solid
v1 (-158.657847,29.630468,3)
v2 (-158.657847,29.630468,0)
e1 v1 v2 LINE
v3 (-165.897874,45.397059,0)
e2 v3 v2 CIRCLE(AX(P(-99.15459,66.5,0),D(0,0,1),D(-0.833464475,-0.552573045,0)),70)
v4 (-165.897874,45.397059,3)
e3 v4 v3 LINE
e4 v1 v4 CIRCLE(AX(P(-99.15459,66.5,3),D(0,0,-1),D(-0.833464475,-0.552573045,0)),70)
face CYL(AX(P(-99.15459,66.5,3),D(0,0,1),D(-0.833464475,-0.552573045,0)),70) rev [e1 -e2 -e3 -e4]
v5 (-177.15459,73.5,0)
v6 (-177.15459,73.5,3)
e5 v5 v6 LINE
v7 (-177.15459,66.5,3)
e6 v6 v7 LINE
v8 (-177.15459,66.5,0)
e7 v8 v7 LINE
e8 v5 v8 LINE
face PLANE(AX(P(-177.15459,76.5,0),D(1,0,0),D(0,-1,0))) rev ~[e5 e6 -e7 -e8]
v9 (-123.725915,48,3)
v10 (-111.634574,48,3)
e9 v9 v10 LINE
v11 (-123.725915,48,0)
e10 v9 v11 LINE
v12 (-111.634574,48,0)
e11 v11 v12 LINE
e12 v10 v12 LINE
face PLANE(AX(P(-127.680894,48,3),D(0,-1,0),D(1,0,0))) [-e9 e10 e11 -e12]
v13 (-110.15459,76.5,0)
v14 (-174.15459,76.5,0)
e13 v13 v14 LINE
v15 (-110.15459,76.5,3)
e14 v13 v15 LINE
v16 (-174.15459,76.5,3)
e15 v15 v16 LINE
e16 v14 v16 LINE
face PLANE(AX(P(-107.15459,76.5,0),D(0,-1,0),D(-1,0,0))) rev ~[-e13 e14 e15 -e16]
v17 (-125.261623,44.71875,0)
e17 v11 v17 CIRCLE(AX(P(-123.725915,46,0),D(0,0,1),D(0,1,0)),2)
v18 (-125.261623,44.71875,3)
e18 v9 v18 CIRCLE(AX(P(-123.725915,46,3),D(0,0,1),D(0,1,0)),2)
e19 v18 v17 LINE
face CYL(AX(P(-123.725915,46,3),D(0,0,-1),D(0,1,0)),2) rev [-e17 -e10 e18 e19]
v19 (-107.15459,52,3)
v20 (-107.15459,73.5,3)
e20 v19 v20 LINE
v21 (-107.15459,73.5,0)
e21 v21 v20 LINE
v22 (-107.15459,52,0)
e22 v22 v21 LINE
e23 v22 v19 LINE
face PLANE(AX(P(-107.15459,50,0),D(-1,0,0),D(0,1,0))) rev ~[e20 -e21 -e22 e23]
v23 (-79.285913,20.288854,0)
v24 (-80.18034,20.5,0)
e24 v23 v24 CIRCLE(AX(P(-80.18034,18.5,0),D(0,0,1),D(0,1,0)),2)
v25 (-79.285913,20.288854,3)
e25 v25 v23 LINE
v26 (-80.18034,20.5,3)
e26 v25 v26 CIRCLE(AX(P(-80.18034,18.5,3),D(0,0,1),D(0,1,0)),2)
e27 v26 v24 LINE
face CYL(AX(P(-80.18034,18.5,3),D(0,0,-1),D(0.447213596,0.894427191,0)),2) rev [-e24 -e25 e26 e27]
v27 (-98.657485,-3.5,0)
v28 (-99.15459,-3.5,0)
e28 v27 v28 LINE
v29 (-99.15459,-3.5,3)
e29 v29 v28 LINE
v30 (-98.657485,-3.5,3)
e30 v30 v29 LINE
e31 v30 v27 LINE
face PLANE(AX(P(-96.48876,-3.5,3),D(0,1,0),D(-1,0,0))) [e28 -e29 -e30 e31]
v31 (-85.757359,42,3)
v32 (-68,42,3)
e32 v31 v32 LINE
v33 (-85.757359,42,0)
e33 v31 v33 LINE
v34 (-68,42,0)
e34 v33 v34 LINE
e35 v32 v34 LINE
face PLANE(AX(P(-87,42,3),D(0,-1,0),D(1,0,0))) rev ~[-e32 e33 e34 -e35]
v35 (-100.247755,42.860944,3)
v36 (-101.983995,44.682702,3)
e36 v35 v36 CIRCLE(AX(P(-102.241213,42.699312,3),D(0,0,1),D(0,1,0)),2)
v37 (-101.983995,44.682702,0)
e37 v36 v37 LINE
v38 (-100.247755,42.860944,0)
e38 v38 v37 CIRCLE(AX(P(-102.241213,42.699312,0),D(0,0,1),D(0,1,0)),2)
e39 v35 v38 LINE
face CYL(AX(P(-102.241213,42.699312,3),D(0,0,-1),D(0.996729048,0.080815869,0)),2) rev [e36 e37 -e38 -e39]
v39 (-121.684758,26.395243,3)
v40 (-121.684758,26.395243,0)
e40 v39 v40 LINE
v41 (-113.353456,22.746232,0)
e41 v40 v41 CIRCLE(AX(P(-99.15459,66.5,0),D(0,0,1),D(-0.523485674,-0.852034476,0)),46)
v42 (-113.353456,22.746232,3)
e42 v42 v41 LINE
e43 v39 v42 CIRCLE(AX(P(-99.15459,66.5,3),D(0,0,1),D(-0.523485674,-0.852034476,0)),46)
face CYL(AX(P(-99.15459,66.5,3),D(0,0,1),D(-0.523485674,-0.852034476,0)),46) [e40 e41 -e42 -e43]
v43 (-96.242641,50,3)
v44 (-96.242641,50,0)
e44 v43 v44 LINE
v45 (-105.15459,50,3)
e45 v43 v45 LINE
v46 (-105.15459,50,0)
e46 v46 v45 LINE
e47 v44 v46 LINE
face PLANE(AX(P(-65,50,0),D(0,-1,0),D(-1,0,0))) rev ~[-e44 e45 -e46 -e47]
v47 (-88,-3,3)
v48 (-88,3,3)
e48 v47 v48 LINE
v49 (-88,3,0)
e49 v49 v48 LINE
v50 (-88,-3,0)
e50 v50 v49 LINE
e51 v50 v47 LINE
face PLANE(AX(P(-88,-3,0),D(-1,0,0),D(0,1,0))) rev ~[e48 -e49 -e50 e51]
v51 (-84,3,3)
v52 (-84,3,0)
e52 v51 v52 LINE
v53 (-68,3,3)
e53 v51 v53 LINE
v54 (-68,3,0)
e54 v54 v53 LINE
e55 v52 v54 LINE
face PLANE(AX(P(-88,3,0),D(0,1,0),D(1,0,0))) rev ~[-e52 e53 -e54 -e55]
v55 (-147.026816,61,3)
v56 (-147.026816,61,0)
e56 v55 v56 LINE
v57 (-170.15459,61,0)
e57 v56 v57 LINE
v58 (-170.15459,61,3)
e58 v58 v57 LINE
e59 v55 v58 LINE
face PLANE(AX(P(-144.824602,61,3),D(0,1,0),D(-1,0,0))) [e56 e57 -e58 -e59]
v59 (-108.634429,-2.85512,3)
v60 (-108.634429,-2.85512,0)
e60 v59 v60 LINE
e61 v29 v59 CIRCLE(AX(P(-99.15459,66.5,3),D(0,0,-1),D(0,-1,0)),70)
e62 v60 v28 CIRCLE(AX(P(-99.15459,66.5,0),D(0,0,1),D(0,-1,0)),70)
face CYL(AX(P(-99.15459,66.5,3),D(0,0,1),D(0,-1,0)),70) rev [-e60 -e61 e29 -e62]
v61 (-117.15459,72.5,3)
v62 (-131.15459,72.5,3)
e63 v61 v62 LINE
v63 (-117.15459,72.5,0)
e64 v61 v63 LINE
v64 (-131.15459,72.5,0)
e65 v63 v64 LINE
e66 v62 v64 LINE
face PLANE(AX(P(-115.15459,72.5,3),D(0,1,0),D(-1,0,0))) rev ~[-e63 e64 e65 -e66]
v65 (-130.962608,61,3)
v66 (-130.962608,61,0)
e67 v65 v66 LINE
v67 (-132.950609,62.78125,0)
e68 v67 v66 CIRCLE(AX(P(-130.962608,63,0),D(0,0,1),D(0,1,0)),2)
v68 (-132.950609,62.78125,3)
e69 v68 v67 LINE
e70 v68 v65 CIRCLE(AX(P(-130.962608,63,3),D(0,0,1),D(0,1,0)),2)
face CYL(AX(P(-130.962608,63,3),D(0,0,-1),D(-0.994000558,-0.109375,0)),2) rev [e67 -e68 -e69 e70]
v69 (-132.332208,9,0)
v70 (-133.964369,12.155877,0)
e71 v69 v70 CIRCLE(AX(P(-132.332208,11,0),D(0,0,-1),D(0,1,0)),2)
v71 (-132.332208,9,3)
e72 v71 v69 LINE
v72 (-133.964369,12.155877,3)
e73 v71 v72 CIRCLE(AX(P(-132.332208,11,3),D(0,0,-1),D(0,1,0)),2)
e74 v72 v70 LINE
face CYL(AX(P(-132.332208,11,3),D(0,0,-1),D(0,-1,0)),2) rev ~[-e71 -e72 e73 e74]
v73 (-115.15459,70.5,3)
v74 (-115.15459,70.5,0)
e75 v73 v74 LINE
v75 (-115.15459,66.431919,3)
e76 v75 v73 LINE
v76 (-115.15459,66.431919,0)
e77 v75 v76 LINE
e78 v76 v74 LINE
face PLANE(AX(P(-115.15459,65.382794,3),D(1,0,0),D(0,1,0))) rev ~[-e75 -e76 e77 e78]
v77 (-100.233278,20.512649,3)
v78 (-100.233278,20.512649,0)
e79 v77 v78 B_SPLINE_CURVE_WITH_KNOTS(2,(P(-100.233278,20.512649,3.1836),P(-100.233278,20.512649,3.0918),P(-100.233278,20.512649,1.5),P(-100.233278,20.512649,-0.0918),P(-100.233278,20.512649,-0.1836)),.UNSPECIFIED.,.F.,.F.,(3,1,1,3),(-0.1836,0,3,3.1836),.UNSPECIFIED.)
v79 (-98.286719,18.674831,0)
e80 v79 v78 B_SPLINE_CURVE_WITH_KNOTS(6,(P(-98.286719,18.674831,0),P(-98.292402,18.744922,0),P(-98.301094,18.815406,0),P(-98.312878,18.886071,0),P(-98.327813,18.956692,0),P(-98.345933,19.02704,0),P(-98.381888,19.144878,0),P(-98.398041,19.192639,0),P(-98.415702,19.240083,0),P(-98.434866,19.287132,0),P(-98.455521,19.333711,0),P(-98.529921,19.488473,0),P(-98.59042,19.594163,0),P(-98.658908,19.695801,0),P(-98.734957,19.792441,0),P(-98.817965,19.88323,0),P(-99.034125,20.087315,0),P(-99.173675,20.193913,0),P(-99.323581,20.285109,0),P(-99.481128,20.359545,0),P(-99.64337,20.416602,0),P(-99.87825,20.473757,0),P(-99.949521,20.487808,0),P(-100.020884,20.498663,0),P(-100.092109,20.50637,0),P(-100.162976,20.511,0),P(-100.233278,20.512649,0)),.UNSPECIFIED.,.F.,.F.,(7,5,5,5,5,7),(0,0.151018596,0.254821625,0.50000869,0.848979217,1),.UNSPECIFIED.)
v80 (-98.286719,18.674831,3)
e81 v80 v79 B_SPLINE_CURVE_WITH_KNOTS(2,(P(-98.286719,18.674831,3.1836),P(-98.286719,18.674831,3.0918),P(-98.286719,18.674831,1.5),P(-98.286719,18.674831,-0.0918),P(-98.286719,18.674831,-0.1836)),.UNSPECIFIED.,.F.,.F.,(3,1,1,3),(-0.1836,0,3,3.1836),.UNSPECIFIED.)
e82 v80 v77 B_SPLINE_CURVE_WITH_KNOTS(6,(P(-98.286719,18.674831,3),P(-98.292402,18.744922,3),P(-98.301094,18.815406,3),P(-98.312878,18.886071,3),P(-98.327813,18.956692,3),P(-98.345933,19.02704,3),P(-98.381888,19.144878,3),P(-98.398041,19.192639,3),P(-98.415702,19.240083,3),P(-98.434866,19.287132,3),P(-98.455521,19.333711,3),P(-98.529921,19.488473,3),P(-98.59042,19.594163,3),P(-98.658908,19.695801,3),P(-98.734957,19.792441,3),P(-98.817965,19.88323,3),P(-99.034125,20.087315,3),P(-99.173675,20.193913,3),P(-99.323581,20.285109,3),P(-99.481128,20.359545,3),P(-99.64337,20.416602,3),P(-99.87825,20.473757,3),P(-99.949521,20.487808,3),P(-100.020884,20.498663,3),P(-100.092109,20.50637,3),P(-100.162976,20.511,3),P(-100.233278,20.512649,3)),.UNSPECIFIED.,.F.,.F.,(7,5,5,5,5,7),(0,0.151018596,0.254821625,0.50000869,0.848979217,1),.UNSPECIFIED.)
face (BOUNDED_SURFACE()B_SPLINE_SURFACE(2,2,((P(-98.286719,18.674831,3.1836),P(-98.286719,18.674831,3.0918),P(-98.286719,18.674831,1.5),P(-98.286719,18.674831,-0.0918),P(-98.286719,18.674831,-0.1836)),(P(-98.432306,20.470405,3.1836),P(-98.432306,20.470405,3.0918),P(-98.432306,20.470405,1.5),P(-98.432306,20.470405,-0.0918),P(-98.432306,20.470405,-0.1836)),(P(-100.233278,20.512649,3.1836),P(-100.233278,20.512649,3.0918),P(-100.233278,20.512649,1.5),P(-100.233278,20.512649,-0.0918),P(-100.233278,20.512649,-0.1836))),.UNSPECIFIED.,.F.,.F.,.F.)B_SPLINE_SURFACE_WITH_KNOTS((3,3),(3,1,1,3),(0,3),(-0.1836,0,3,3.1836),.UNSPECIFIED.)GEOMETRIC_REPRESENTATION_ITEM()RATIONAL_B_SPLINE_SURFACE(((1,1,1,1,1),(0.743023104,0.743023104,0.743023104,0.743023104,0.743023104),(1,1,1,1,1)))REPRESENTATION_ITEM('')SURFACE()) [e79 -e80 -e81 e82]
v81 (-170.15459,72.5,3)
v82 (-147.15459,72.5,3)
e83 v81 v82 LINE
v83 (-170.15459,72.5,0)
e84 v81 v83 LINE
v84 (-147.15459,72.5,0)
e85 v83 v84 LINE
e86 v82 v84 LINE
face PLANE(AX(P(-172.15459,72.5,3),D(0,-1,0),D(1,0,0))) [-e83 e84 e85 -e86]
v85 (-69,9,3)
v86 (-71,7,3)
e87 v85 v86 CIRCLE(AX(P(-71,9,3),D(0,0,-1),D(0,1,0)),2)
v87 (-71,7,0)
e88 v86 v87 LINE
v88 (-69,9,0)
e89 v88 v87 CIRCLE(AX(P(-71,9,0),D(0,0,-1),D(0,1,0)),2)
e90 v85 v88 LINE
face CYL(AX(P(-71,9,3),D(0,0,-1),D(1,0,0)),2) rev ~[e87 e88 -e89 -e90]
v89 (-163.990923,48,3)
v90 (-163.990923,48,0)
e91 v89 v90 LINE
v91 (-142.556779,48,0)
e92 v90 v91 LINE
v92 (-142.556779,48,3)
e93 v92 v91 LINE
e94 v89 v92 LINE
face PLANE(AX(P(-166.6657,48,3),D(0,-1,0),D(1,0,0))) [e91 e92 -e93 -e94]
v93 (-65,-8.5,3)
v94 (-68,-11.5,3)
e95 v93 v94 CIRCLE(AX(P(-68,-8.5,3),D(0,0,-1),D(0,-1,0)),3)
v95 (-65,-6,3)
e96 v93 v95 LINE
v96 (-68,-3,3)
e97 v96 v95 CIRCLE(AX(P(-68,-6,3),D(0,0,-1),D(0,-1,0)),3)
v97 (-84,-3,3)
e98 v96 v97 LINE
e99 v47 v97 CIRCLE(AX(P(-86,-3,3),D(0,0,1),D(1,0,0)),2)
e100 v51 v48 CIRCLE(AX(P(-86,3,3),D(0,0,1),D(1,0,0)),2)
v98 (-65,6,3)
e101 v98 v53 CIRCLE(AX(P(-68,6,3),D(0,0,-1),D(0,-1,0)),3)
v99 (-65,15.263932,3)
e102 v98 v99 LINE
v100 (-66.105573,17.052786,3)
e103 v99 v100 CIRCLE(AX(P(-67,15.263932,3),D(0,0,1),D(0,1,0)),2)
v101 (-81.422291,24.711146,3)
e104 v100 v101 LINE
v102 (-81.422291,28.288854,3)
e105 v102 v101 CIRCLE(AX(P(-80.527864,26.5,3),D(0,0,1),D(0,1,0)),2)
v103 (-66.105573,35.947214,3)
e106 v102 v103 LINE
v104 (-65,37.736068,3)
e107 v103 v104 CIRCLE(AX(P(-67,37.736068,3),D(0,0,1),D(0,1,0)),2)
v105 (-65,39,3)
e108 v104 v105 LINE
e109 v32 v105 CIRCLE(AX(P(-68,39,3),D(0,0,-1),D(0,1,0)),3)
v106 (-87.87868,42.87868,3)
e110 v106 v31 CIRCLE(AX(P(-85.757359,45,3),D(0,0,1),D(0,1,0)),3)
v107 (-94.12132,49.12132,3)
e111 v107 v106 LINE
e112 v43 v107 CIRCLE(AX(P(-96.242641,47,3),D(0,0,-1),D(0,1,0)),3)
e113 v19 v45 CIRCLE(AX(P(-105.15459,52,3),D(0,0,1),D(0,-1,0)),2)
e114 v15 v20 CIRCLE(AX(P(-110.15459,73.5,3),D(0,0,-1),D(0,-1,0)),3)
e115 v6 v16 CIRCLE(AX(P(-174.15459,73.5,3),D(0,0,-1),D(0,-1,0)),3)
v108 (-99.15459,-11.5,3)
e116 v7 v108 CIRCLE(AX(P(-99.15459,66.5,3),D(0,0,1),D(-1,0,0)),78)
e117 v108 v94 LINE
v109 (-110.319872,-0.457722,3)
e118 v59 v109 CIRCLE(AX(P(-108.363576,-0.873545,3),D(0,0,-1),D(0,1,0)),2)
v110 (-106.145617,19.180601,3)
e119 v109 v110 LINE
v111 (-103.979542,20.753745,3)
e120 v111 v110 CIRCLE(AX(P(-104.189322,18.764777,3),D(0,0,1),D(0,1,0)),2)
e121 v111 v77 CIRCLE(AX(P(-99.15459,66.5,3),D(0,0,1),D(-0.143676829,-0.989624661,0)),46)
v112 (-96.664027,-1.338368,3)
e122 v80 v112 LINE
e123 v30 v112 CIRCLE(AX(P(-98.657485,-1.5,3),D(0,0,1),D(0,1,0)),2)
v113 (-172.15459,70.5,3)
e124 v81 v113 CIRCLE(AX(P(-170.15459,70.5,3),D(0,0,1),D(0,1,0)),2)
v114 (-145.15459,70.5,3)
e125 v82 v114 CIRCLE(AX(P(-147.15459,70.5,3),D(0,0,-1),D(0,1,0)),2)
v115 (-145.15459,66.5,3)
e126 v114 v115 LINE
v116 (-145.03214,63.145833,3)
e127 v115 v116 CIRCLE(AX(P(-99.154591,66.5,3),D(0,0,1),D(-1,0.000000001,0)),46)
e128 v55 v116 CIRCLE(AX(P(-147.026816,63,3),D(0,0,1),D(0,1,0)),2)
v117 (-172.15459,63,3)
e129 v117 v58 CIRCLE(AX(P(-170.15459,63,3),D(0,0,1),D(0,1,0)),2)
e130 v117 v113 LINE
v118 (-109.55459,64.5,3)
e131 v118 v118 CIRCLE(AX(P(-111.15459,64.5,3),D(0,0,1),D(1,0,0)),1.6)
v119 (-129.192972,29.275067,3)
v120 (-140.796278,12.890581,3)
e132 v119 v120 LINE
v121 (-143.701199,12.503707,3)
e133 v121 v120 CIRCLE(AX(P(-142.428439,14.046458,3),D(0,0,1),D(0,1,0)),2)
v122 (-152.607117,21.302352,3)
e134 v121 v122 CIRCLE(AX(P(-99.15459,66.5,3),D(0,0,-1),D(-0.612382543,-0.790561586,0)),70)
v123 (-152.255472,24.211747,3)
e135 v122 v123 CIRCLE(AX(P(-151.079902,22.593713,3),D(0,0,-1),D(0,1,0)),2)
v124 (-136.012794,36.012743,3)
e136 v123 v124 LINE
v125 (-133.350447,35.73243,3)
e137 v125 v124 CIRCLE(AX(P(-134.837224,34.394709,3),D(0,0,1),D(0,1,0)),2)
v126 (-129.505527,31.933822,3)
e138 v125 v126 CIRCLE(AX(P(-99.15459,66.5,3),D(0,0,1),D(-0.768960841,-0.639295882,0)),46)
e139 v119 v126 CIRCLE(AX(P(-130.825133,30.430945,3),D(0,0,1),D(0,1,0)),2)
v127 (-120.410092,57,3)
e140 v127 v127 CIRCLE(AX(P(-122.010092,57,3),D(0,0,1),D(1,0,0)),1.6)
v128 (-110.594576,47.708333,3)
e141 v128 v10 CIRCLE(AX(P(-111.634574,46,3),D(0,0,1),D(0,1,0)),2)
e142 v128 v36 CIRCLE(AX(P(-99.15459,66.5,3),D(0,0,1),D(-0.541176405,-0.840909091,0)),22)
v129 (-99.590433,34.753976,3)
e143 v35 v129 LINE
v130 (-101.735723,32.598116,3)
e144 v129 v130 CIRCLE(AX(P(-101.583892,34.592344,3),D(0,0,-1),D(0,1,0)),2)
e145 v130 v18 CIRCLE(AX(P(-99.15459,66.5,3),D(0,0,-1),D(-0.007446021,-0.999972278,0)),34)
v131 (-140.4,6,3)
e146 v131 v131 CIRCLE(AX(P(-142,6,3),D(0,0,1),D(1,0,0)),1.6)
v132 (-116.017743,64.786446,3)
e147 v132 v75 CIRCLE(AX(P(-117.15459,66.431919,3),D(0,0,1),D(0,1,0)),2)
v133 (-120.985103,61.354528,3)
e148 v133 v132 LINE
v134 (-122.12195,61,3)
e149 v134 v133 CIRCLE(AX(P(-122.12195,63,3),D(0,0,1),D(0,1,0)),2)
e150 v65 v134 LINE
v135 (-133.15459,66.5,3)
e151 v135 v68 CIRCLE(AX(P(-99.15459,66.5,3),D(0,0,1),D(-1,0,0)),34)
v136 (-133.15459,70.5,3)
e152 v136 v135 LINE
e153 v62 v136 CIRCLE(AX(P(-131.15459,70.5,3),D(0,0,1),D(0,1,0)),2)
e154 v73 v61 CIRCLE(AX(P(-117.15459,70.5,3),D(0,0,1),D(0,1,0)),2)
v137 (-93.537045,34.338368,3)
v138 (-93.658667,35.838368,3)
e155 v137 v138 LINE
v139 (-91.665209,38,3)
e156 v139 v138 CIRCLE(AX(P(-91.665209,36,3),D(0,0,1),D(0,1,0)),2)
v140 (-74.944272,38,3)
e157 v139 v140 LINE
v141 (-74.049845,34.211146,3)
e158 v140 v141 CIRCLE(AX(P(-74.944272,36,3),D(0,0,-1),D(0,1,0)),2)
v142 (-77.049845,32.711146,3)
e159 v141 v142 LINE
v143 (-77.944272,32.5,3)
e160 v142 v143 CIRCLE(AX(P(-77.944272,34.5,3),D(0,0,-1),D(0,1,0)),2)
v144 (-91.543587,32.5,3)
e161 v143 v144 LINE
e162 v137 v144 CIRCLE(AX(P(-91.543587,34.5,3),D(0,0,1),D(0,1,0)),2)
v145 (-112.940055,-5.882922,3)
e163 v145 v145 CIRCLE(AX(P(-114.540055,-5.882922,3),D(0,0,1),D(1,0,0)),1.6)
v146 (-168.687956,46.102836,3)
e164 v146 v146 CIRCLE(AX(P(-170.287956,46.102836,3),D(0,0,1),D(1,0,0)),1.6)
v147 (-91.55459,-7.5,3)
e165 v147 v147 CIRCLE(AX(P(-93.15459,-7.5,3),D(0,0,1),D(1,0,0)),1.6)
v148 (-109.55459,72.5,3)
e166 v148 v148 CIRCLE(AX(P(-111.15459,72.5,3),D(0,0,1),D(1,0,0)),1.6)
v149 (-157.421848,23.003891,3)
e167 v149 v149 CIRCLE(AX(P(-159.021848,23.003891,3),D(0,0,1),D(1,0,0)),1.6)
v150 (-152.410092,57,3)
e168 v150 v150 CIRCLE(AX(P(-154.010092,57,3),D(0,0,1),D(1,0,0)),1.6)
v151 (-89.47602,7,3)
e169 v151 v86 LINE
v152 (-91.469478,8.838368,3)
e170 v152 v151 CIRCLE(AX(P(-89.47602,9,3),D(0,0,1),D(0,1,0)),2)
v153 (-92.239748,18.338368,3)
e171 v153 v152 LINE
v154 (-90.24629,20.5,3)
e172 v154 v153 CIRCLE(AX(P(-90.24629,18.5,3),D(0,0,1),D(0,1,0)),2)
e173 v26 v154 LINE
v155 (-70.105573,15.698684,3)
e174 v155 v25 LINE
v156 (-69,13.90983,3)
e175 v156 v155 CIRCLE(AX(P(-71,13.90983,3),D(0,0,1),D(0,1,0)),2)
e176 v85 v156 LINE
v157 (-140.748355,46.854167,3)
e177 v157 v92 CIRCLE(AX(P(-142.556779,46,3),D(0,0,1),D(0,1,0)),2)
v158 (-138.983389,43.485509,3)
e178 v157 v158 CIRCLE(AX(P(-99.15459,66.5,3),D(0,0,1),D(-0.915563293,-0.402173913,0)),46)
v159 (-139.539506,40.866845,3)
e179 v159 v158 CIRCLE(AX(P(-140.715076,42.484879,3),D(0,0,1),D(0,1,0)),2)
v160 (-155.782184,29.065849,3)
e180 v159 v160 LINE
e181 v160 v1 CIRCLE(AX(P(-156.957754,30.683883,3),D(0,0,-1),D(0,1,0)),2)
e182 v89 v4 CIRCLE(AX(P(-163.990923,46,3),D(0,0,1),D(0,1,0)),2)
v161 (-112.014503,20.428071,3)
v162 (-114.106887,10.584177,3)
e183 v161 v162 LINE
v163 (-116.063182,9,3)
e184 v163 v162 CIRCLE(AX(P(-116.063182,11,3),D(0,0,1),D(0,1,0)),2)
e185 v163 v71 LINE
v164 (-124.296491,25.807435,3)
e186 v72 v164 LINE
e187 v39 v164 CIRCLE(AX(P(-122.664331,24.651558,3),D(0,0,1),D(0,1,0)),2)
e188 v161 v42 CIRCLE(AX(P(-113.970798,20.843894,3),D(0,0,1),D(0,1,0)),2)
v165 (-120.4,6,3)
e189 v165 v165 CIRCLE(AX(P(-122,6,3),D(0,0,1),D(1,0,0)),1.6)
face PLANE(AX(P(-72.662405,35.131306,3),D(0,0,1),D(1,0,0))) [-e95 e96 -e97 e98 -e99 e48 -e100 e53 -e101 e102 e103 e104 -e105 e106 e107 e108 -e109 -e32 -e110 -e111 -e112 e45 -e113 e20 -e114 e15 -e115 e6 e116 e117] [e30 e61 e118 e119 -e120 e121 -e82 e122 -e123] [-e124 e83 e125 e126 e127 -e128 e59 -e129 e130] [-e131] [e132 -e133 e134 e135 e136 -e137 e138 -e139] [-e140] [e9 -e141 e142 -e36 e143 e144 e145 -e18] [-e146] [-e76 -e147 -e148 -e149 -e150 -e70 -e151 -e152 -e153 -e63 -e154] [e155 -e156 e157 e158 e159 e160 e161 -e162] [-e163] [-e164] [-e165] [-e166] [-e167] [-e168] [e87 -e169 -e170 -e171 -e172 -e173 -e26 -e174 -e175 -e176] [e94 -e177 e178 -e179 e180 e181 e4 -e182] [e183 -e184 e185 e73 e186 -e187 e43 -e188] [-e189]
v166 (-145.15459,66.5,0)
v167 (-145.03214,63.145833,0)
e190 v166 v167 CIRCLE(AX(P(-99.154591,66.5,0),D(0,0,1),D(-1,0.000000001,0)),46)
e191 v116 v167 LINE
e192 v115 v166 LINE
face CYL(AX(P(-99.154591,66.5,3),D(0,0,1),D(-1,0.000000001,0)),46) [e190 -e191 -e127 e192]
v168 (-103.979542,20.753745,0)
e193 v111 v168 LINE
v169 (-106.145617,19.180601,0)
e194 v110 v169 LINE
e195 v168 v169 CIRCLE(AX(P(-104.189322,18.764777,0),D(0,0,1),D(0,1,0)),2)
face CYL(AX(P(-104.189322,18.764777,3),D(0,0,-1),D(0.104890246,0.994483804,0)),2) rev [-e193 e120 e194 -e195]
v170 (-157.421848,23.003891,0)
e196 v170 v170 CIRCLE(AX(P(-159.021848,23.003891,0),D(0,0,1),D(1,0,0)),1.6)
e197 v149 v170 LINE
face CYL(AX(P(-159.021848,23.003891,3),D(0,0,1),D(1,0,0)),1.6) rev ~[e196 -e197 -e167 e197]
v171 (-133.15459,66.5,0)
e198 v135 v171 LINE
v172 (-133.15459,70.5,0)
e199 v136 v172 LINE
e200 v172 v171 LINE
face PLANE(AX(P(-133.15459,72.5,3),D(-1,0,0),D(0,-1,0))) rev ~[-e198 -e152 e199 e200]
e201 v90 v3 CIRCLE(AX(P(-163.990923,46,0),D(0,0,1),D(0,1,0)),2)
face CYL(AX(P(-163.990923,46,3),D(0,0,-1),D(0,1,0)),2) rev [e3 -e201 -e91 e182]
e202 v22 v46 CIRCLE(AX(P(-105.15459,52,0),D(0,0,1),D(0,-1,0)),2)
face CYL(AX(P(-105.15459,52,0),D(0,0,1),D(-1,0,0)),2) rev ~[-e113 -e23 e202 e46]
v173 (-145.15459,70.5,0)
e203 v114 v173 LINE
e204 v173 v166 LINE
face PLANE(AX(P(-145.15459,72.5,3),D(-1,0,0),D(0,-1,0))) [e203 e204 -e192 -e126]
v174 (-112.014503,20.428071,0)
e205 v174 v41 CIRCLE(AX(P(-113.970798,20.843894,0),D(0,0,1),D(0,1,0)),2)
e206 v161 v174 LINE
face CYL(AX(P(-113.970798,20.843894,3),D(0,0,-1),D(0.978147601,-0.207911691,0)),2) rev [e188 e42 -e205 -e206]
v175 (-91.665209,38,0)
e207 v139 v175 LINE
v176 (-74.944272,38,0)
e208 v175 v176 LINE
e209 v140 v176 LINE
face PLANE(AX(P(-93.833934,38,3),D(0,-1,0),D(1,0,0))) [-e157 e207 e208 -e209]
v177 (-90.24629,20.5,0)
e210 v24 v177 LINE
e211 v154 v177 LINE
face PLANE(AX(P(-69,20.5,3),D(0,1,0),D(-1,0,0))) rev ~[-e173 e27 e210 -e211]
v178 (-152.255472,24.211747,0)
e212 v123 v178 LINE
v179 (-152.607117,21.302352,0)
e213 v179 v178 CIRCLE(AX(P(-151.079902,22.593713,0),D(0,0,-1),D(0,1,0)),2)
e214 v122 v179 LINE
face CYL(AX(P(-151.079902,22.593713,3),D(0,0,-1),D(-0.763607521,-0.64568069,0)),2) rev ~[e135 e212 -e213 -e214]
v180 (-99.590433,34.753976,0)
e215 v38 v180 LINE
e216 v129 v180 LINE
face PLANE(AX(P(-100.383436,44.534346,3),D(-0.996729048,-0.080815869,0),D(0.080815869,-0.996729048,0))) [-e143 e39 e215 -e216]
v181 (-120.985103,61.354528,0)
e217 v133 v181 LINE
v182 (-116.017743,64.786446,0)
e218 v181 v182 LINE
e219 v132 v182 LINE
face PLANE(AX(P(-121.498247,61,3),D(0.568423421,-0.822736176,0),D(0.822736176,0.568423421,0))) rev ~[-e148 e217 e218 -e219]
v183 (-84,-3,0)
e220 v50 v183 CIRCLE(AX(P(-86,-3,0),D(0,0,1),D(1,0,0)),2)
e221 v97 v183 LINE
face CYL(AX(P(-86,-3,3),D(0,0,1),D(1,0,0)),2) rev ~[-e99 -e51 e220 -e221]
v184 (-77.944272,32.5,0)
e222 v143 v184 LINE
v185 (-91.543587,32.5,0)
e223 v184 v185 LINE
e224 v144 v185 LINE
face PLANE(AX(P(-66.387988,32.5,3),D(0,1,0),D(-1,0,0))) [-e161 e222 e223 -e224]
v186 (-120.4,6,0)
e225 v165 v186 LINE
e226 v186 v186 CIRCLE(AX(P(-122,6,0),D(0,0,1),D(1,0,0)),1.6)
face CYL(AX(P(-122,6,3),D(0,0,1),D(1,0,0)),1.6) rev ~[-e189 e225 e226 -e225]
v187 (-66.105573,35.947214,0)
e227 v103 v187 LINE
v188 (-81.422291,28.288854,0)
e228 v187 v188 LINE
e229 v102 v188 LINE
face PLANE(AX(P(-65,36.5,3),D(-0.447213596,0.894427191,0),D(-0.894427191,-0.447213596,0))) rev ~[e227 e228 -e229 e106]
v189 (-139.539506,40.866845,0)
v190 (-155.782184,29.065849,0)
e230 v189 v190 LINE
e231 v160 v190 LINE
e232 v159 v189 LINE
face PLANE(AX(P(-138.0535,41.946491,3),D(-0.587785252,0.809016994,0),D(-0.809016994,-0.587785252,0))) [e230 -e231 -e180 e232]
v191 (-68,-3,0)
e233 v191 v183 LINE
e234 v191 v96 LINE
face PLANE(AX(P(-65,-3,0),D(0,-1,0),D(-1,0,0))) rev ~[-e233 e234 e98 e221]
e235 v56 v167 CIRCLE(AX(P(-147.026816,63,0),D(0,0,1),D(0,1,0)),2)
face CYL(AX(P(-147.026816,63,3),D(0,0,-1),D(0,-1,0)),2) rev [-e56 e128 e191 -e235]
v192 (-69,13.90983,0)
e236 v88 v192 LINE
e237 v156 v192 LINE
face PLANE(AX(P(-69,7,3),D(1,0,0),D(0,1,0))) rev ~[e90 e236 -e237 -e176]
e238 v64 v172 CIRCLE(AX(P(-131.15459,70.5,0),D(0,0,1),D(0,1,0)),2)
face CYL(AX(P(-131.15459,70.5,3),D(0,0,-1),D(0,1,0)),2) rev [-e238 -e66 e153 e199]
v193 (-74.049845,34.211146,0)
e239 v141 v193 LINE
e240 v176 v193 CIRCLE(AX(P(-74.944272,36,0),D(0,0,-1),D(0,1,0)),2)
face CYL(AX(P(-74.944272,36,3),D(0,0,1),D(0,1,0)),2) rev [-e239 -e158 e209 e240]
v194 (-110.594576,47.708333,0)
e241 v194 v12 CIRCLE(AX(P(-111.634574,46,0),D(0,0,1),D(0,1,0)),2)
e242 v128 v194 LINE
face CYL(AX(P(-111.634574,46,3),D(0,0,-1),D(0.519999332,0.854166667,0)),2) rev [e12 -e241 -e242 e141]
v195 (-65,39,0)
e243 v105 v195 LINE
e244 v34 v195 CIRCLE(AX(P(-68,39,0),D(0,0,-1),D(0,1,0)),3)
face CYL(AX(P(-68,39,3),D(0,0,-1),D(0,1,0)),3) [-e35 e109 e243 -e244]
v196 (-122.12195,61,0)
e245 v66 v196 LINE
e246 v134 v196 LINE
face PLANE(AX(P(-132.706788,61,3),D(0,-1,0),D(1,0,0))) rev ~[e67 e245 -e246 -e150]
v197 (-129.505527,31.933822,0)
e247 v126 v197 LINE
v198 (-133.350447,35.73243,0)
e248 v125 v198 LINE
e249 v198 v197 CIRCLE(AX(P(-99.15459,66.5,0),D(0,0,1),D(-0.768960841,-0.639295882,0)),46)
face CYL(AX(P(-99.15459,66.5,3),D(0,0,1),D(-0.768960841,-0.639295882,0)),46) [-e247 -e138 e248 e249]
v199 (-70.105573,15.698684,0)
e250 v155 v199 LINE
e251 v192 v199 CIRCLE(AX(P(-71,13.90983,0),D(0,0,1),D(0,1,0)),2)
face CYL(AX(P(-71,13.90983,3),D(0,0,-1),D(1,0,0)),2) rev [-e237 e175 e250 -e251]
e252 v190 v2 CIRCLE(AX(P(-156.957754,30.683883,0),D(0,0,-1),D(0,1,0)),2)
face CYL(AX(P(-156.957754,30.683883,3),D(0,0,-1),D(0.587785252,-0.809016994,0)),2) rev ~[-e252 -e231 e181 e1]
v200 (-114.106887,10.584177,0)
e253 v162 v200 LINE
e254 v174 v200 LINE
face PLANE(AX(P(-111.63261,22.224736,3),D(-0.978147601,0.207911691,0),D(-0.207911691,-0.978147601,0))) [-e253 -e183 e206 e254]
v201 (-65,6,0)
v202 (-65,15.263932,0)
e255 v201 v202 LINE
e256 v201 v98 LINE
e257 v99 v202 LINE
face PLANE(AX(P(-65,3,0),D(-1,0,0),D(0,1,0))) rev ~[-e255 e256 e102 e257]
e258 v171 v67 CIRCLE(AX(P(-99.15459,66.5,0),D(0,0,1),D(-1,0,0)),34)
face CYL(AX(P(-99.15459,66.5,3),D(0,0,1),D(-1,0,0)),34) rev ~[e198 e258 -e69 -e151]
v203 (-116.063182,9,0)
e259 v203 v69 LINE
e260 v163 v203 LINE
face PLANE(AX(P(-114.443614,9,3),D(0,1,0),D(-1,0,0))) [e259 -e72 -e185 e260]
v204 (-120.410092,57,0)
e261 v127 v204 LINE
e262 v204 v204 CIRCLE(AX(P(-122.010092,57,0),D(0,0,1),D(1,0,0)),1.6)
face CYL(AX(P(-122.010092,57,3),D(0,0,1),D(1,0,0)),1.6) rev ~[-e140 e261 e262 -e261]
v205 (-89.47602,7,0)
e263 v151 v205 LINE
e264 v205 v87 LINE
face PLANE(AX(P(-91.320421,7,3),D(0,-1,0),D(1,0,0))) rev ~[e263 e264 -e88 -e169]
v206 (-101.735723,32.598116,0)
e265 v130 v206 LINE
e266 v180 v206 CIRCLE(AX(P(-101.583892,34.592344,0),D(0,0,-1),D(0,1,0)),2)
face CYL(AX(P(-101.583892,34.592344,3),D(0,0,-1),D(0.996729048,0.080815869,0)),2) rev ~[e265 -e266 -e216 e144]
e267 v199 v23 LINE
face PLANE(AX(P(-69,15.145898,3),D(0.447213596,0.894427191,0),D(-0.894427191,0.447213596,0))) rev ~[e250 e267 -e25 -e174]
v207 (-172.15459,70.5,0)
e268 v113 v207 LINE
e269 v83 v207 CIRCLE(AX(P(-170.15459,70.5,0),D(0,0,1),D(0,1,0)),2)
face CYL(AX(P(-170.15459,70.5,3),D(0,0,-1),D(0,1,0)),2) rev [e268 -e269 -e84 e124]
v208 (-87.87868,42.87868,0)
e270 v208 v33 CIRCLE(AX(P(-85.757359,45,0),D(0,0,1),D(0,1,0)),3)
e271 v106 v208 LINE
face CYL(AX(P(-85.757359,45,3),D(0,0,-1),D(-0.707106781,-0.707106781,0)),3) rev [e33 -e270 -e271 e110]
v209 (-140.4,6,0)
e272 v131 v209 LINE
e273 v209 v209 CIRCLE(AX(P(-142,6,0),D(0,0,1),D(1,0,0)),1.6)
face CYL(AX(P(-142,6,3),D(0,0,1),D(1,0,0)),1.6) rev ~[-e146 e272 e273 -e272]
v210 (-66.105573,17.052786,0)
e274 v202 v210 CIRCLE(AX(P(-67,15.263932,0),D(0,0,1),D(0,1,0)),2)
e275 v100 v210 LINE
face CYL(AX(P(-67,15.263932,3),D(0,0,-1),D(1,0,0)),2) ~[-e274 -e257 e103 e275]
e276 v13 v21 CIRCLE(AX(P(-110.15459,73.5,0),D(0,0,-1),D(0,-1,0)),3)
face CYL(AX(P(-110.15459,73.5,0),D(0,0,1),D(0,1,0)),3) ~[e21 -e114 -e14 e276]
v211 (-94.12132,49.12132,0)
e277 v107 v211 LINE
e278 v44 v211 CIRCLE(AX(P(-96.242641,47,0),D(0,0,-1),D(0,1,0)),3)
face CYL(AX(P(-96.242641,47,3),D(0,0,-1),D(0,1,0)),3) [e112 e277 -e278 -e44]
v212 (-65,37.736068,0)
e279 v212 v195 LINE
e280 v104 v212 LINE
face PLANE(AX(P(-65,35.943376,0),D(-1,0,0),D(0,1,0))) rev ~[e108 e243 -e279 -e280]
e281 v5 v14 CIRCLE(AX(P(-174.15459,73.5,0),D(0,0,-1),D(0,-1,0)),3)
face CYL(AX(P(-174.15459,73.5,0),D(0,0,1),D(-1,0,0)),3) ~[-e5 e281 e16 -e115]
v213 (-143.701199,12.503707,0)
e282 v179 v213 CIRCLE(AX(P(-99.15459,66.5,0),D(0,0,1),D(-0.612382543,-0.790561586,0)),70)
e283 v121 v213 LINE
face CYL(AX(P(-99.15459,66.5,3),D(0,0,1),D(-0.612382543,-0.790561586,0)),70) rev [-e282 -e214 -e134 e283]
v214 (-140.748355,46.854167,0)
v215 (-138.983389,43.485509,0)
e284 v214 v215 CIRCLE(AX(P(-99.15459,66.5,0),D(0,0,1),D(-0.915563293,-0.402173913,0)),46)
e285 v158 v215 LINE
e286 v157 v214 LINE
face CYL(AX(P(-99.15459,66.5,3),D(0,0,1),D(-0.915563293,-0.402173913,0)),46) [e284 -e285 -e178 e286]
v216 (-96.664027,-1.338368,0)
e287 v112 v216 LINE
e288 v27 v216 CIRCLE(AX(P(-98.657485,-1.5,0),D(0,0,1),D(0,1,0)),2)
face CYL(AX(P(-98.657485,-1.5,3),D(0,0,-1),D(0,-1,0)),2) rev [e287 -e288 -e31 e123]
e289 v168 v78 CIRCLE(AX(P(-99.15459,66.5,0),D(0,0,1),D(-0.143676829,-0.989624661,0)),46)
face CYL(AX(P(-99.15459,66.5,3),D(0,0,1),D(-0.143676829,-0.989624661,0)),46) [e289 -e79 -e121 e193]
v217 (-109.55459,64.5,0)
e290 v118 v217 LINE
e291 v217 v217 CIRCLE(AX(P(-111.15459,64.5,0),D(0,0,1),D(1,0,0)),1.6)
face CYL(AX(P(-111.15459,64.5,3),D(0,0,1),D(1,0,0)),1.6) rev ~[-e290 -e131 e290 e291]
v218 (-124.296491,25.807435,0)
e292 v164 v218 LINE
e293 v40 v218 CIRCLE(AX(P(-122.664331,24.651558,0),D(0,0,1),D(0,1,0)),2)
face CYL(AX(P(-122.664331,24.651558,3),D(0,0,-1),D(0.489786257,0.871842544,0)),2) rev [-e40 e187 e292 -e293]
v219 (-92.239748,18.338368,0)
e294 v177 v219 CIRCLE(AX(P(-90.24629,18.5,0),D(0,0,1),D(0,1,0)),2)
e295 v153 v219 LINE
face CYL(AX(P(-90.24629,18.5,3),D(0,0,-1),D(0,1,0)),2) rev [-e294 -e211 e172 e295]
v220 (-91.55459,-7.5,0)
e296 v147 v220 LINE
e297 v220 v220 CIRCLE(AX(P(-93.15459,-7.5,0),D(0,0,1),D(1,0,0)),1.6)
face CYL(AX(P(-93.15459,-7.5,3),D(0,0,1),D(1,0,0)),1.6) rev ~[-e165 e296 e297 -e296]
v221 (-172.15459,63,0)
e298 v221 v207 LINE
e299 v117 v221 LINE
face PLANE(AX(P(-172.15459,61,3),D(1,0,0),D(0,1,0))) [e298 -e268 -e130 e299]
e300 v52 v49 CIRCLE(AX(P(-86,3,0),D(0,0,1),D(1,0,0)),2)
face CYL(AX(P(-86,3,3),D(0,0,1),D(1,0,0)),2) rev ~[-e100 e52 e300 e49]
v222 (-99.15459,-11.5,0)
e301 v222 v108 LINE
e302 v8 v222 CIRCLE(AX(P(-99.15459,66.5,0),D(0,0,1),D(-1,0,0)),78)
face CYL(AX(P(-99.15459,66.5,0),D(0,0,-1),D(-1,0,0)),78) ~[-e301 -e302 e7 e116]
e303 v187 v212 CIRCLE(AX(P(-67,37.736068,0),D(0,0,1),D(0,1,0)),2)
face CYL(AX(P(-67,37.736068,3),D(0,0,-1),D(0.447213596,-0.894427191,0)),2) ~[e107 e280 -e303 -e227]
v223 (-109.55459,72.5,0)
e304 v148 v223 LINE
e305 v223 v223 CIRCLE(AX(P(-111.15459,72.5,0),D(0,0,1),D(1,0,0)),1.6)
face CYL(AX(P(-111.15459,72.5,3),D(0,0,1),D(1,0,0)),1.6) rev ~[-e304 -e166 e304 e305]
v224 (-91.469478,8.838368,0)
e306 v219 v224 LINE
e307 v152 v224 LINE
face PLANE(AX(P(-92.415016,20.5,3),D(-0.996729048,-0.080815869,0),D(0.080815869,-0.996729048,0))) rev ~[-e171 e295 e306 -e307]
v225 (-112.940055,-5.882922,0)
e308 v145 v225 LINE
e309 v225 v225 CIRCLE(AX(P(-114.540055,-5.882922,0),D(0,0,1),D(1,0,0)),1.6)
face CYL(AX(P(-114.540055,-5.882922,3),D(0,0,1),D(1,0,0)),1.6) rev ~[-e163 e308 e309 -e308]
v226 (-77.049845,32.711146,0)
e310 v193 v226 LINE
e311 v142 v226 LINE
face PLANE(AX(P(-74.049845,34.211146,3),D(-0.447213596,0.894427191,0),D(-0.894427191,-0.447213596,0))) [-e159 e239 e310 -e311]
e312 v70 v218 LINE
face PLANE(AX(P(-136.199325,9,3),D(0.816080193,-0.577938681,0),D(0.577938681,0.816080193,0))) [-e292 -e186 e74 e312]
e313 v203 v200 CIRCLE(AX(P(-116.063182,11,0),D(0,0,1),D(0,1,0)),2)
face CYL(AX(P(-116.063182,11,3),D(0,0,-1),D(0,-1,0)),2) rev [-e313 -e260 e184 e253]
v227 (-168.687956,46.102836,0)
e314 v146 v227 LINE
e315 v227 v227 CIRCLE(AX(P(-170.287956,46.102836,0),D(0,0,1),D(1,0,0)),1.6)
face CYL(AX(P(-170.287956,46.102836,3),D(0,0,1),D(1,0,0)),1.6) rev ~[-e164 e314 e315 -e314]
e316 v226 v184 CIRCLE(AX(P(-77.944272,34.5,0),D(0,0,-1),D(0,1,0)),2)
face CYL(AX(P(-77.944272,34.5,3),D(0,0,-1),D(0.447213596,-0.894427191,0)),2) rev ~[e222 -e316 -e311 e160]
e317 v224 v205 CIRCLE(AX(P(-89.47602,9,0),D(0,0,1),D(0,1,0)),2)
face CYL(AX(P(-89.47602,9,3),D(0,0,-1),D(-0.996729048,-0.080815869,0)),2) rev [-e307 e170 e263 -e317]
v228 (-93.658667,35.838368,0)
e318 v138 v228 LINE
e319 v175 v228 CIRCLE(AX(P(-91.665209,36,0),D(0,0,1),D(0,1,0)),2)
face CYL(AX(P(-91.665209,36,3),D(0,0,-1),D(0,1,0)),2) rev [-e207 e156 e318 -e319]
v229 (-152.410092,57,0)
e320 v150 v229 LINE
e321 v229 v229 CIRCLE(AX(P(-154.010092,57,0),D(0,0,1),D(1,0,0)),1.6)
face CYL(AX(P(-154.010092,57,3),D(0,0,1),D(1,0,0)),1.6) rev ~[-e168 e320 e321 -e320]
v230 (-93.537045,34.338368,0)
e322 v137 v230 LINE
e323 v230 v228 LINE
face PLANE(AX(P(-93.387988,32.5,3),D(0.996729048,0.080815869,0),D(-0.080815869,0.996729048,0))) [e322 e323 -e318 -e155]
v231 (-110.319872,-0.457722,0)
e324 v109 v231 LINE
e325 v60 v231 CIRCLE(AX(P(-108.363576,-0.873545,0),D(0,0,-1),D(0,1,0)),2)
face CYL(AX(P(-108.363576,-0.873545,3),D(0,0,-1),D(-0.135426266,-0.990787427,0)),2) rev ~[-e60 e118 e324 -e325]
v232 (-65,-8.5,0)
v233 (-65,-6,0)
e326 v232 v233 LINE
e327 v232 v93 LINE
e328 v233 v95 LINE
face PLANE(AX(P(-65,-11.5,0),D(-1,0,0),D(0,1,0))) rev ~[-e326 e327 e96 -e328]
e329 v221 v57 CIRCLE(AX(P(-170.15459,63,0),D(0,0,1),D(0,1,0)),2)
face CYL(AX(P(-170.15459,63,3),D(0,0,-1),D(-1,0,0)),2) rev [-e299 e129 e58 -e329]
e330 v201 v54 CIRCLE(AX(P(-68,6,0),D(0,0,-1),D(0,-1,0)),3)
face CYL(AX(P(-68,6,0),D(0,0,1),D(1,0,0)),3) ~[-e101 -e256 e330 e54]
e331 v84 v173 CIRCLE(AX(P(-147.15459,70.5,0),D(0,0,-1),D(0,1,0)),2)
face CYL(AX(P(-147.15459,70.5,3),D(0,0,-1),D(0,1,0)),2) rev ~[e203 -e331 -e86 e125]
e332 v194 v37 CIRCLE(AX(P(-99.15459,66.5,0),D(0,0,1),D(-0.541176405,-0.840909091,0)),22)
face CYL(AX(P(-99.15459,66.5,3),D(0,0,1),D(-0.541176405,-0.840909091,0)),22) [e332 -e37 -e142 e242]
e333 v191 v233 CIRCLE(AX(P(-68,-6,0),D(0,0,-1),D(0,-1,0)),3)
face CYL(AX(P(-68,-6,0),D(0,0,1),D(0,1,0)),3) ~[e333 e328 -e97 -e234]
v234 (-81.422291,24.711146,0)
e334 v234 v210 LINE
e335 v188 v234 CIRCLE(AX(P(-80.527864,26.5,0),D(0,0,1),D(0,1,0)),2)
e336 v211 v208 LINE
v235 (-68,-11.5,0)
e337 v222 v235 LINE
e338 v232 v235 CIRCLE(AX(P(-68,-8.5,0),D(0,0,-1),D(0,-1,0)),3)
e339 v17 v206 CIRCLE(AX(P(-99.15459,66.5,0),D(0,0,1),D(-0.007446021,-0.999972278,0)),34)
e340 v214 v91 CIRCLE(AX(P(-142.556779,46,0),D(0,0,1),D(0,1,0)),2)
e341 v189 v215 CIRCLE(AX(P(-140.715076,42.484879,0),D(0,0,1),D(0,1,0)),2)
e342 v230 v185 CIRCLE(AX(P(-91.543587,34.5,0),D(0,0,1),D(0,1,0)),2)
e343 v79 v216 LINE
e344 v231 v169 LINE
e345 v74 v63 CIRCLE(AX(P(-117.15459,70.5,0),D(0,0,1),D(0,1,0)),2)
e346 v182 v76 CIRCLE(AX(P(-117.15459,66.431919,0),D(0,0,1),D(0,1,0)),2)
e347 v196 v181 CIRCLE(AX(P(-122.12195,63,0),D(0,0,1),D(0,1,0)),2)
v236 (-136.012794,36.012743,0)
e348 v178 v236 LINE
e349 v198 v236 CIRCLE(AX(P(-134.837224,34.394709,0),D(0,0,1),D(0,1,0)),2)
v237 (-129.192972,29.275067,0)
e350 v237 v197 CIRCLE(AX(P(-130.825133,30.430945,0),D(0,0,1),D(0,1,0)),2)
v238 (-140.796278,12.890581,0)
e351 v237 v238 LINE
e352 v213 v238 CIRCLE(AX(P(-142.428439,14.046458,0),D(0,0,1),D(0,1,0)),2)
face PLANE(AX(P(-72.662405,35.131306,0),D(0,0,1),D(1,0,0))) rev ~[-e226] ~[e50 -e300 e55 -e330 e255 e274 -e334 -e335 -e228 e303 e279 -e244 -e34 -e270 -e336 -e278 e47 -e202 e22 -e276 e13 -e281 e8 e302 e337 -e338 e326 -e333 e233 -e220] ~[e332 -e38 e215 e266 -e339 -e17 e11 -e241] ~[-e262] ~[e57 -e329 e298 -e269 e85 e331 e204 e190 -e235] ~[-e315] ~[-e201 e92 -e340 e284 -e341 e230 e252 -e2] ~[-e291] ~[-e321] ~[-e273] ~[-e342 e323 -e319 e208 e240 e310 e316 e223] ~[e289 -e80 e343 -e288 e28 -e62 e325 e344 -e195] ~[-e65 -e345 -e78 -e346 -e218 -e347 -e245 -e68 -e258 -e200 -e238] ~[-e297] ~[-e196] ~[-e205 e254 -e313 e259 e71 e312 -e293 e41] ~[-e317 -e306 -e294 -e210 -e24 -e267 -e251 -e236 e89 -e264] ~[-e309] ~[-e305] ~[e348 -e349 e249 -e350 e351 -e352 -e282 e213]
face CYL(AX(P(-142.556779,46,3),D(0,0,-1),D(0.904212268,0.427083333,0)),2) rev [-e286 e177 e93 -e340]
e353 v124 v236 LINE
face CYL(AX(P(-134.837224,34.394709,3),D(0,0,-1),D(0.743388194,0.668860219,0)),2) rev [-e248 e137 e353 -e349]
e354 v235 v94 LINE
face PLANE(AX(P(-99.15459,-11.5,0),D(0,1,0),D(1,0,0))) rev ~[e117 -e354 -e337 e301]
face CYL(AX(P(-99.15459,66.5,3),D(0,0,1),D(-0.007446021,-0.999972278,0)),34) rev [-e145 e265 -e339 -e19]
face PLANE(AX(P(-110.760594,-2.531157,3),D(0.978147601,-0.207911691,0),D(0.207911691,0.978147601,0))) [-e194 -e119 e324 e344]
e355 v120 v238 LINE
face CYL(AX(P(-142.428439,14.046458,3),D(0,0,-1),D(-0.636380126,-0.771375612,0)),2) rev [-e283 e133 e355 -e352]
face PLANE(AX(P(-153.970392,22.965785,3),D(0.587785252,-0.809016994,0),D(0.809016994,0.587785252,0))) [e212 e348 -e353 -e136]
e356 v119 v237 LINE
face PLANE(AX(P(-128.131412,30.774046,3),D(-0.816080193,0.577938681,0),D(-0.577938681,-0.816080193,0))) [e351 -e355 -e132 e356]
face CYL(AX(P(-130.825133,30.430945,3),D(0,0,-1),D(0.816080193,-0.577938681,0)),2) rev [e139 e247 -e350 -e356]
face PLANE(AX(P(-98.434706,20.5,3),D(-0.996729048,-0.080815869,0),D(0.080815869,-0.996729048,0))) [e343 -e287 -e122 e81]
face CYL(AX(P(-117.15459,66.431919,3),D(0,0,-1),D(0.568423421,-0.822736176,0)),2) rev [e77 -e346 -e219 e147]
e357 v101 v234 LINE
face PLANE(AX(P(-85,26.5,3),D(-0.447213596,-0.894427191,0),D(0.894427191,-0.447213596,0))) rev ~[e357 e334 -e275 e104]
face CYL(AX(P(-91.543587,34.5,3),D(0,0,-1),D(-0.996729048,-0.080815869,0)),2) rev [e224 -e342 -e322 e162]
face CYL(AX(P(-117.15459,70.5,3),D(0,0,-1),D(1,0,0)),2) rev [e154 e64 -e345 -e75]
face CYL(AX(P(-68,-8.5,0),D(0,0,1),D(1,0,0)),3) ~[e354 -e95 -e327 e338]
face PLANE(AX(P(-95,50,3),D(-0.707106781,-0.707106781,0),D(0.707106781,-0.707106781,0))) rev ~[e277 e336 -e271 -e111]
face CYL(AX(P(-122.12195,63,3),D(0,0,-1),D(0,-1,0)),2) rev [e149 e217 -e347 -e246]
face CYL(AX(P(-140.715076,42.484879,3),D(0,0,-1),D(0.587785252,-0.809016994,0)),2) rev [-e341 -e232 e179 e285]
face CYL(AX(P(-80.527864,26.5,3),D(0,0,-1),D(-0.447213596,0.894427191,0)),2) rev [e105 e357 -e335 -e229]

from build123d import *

# Parameters (mm, degrees)
EXTRUDE_1_DEPTH     = 3
SKETCH_3_R          = 1.6
CUT_EXTRUDE_1_DEPTH = 10
SKETCH_4_R          = 1.6
CUT_EXTRUDE_2_DEPTH = 10
SKETCH_5_R          = 2
CUT_EXTRUDE_3_DEPTH = 10
SKETCH_6_R          = 1.6
CUT_EXTRUDE_4_DEPTH = 3
SKETCH_7_R          = 1.6
CUT_EXTRUDE_5_DEPTH = 3
FILLET_1_R          = 2
CUT_EXTRUDE_6_DEPTH = 11.6
FILLET_2_R          = 3
CUT_EXTRUDE_7_DEPTH = 11.6
EXTRUDE_2_DEPTH     = 3
CUT_EXTRUDE_8_DEPTH = 193.98963408
FILLET_3_R          = 2
FILLET_4_R          = 2


with BuildPart() as part:
    # 草图2 → 凸台-拉伸1 (new body)
    with BuildSketch(Plane.XY):
        with BuildLine():
            Line((-177.154590294, 76.5), (-177.154590294, 66.5))
            ThreePointArc((-177.154590294, 66.5), (-154.308919227, 11.345671067), (-99.154590294, -11.5))
            Line((-99.154590294, -11.5), (-88, -11.5))
            Line((-88, -11.5), (-65, -11.5))
            Line((-65, -11.5), (-65, -3))
            Line((-65, -3), (-88, -3))
            Line((-88, -3), (-88, 3))
            Line((-88, 3), (-65, 3))
            Line((-65, 3), (-65, 17.056624327))
            Line((-65, 17.056624327), (-62.5, 18.5))
            Line((-62.5, 18.5), (-62.5, 34.5))
            Line((-62.5, 34.5), (-65, 35.943375673))
            Line((-65, 35.943375673), (-65, 50))
            Line((-65, 50), (-107.154590294, 50))
            Line((-107.154590294, 50), (-107.154590294, 76.5))
            Line((-107.154590294, 76.5), (-177.154590294, 76.5))
        make_face()
    extrude(amount=EXTRUDE_1_DEPTH)

    # 草图3 → 切除-拉伸1 (cut)
    with BuildSketch(Plane.XY.offset(3)):
        with Locations((-142, 6)):
            Circle(SKETCH_3_R)
        with Locations((-122, 6)):
            Circle(SKETCH_3_R)
    extrude(amount=-CUT_EXTRUDE_1_DEPTH, mode=Mode.SUBTRACT)

    # 草图4 → 切除-拉伸2 (cut)
    with BuildSketch(Plane.XY.offset(3)):
        with Locations((-170.287955794, 46.10283567)):
            Circle(SKETCH_4_R)
        with Locations((-159.021847878, 23.00389133)):
            Circle(SKETCH_4_R)
        with Locations((-114.540055415, -5.882922454)):
            Circle(SKETCH_4_R)
        with Locations((-93.154590294, -7.5)):
            Circle(SKETCH_4_R)
    extrude(amount=-CUT_EXTRUDE_2_DEPTH, mode=Mode.SUBTRACT)

    # 草图5 → 切除-拉伸3 (cut)
    with BuildSketch(Plane.XY.offset(3)):
        with Locations((-86, 3)):
            Circle(SKETCH_5_R)
        with Locations((-86, -3)):
            Circle(SKETCH_5_R)
    extrude(amount=-CUT_EXTRUDE_3_DEPTH, mode=Mode.SUBTRACT)

    # 草图6 → 切除-拉伸4 (cut)
    with BuildSketch(Plane.XY.offset(3)):
        with Locations((-111.154590294, 72.5)):
            Circle(SKETCH_6_R)
        with Locations((-111.154590294, 64.5)):
            Circle(SKETCH_6_R)
    extrude(amount=-CUT_EXTRUDE_4_DEPTH, mode=Mode.SUBTRACT)

    # 草图7 → 切除-拉伸5 (cut)
    with BuildSketch(Plane.XY.offset(3)):
        with Locations((-154.010091835, 57)):
            Circle(SKETCH_7_R)
        with Locations((-122.010091835, 57)):
            Circle(SKETCH_7_R)
    extrude(amount=-CUT_EXTRUDE_5_DEPTH, mode=Mode.SUBTRACT)

    # 圆角1
    fillet_1_edges = [part.edges().sort_by_distance(p)[0] for p in [
        (-107.154590294, 50, 1.5),
    ]]
    fillet(fillet_1_edges, radius=FILLET_1_R)

    # 草图8 → 切除-拉伸6 (cut)
    with BuildSketch(Plane.XY.offset(3)):
        Polygon((-95, 50), (-87, 42), (-65, 42), (-65, 50), align=None)
    extrude(amount=-CUT_EXTRUDE_6_DEPTH, mode=Mode.SUBTRACT)

    # 圆角2
    fillet_2_edges = [part.edges().sort_by_distance(p)[0] for p in [
        (-95, 50, 1.5),
        (-65, 42, 1.5),
        (-87, 42, 1.5),
        (-177.154590294, 76.5, 1.5),
        (-65, -11.5, 1.5),
        (-65, -3, 1.5),
        (-65, 3, 1.5),
        (-107.154590294, 76.5, 1.5),
    ]]
    fillet(fillet_2_edges, radius=FILLET_2_R)

    # 草图9 → 切除-拉伸7 (cut)
    with BuildSketch(Plane.XY.offset(3)):
        with BuildLine():
            ThreePointArc((-145.154590294, 66.5), (-145.072019197, 63.745054808), (-144.824602337, 61))
            Line((-144.824602337, 61), (-172.154590294, 61))
            Line((-172.154590294, 61), (-172.154590294, 72.5))
            Line((-172.154590294, 72.5), (-145.154590294, 72.5))
            Line((-145.154590294, 72.5), (-145.154590294, 66.5))
        make_face()
        with BuildLine():
            Line((-133.154590294, 72.5), (-133.154590294, 66.5))
            ThreePointArc((-133.154590294, 66.5), (-133.042454912, 63.740900214), (-132.706788434, 61))
            Line((-132.706788434, 61), (-121.498246805, 61))
            Line((-121.498246805, 61), (-115.154590294, 65.382793706))
            Line((-115.154590294, 65.382793706), (-115.154590294, 72.5))
            Line((-115.154590294, 72.5), (-133.154590294, 72.5))
        make_face()
        with BuildLine():
            Line((-127.680893946, 48), (-111.060471194, 48))
            ThreePointArc((-111.060471194, 48), (-105.946714568, 45.574727054), (-100.383436414, 44.53434642))
            Line((-100.383436414, 44.53434642), (-99.407755019, 32.500942548))
            ThreePointArc((-99.407755019, 32.500942548), (-115.498385615, 36.685903426), (-127.680893946, 48))
        make_face()
        with BuildLine():
            Line((-166.665700491, 48), (-141.270501777, 48))
            ThreePointArc((-141.270501777, 48), (-139.774924791, 44.913234948), (-138.053500491, 41.946491381))
            Line((-138.053500491, 41.946491381), (-157.497103519, 27.819886884))
            ThreePointArc((-157.497103519, 27.819886884), (-162.885217731, 37.544739224), (-166.665700491, 48))
        make_face()
        with BuildLine():
            ThreePointArc((-123.234931322, 27.306414096), (-117.609516434, 24.364317958), (-111.632610014, 22.224735756))
            Line((-111.632610014, 22.224735756), (-114.443614375, 9))
            Line((-114.443614375, 9), (-136.199324912, 9))
            Line((-136.199324912, 9), (-123.234931322, 27.306414096))
        make_face()
        with BuildLine():
            ThreePointArc((-105.763724409, 20.977265611), (-102.467762347, 20.619471549), (-99.154590294, 20.5))
            Line((-99.154590294, 20.5), (-98.434705623, 20.5))
            Line((-98.434705623, 20.5), (-96.488759677, -3.5))
            Line((-96.488759677, -3.5), (-99.154590294, -3.5))
            ThreePointArc((-99.154590294, -3.5), (-104.977776216, -3.257368827), (-110.760593955, -2.531157306))
            Line((-110.760593955, -2.531157306), (-105.763724409, 20.977265611))
        make_face()
        with BuildLine():
            ThreePointArc((-134.526788978, 37.092389415), (-131.483826087, 33.776606028), (-128.131412478, 30.774046183))
            Line((-128.131412478, 30.774046183), (-142.021368274, 11.160688967))
            ThreePointArc((-142.021368274, 11.160688967), (-148.351253457, 16.703530912), (-153.970392005, 22.965784918))
            Line((-153.970392005, 22.965784918), (-134.526788978, 37.092389415))
        make_face()
        Polygon((-69.56341496, 38), (-66.387988479, 32.5), (-93.387988479, 32.5), (-93.833934425, 38), align=None)
        Polygon((-91.320420912, 7), (-69, 7), (-69, 20.5), (-92.415015506, 20.5), align=None)
    extrude(amount=-CUT_EXTRUDE_7_DEPTH, mode=Mode.SUBTRACT)

    # 草图13 → 凸台-拉伸2 (add)
    with BuildSketch(Plane.XY.offset(3)):
        with BuildLine():
            Line((-74.049844719, 34.211145618), (-77.472135955, 32.5))
            Line((-77.472135955, 32.5), (-73, 32.5))
            Line((-73, 32.5), (-67.86914014, 35.06542993))
            Line((-67.86914014, 35.06542993), (-68.870939906, 36.800598024))
            Line((-68.870939906, 36.800598024), (-69.56341496, 38))
            Line((-69.56341496, 38), (-74.94427191, 38))
            ThreePointArc((-74.94427191, 38), (-72.997773931, 36.459505841), (-74.049844719, 34.211145618))
        make_face()
        Polygon((-79.708203932, 20.5), (-73, 20.5), (-69, 18.5), (-69, 15.145898034), align=None)
    extrude(amount=-EXTRUDE_2_DEPTH)

    # 草图11 → 切除-拉伸8 (cut, through all)
    with BuildSketch(Plane.XY.offset(3)):
        Polygon((-65, 36.5), (-85, 26.5), (-65, 16.5), (-59.800529593, 16.5), (-59.800529593, 36.5), align=None)
    extrude(amount=-CUT_EXTRUDE_8_DEPTH, mode=Mode.SUBTRACT)

    # 圆角3
    fillet_3_edges = [part.edges().sort_by_distance(p)[0] for p in [
        (-111.632610014, 22.224735756, 1.5),
        (-114.443614375, 9, 1.5),
        (-136.199324912, 9, 1.5),
        (-123.234931322, 27.306414096, 1.5),
        (-111.060471194, 48, 1.5),
        (-100.383436414, 44.53434642, 1.5),
        (-99.407755019, 32.500942548, 1.5),
        (-127.680893946, 48, 1.5),
        (-115.154590294, 72.5, 1.5),
        (-115.154590294, 65.382793706, 1.5),
        (-121.498246805, 61, 1.5),
        (-132.706788434, 61, 1.5),
        (-133.154590294, 72.5, 1.5),
        (-128.131412478, 30.774046183, 1.5),
        (-142.021368274, 11.160688967, 1.5),
        (-153.970392005, 22.965784918, 1.5),
        (-134.526788978, 37.092389415, 1.5),
        (-144.824602337, 61, 1.5),
        (-172.154590294, 61, 1.5),
        (-172.154590294, 72.5, 1.5),
        (-145.154590294, 72.5, 1.5),
        (-92.415015506, 20.5, 1.5),
        (-69, 15.145898034, 1.5),
        (-69, 7, 1.5),
        (-91.320420912, 7, 1.5),
        (-98.434705623, 20.5, 1.5),
        (-96.488759677, -3.5, 1.5),
        (-110.760593955, -2.531157306, 1.5),
        (-105.763724409, 20.977265611, 1.5),
        (-141.270501777, 48, 1.5),
        (-138.053500491, 41.946491381, 1.5),
        (-157.497103519, 27.819886884, 1.5),
        (-166.665700491, 48, 1.5),
        (-93.387988479, 32.5, 1.5),
        (-93.833934425, 38, 1.5),
        (-77.472135955, 32.5, 1.5),
        (-79.708203932, 20.5, 1.5),
    ]]
    fillet(fillet_3_edges, radius=FILLET_3_R)

    # 圆角4
    fillet_4_edges = [part.edges().sort_by_distance(p)[0] for p in [
        (-65, 16.5, 1.5),
        (-85, 26.5, 1.5),
        (-65, 36.5, 1.5),
    ]]
    fillet(fillet_4_edges, radius=FILLET_4_R)


solid = part.part
